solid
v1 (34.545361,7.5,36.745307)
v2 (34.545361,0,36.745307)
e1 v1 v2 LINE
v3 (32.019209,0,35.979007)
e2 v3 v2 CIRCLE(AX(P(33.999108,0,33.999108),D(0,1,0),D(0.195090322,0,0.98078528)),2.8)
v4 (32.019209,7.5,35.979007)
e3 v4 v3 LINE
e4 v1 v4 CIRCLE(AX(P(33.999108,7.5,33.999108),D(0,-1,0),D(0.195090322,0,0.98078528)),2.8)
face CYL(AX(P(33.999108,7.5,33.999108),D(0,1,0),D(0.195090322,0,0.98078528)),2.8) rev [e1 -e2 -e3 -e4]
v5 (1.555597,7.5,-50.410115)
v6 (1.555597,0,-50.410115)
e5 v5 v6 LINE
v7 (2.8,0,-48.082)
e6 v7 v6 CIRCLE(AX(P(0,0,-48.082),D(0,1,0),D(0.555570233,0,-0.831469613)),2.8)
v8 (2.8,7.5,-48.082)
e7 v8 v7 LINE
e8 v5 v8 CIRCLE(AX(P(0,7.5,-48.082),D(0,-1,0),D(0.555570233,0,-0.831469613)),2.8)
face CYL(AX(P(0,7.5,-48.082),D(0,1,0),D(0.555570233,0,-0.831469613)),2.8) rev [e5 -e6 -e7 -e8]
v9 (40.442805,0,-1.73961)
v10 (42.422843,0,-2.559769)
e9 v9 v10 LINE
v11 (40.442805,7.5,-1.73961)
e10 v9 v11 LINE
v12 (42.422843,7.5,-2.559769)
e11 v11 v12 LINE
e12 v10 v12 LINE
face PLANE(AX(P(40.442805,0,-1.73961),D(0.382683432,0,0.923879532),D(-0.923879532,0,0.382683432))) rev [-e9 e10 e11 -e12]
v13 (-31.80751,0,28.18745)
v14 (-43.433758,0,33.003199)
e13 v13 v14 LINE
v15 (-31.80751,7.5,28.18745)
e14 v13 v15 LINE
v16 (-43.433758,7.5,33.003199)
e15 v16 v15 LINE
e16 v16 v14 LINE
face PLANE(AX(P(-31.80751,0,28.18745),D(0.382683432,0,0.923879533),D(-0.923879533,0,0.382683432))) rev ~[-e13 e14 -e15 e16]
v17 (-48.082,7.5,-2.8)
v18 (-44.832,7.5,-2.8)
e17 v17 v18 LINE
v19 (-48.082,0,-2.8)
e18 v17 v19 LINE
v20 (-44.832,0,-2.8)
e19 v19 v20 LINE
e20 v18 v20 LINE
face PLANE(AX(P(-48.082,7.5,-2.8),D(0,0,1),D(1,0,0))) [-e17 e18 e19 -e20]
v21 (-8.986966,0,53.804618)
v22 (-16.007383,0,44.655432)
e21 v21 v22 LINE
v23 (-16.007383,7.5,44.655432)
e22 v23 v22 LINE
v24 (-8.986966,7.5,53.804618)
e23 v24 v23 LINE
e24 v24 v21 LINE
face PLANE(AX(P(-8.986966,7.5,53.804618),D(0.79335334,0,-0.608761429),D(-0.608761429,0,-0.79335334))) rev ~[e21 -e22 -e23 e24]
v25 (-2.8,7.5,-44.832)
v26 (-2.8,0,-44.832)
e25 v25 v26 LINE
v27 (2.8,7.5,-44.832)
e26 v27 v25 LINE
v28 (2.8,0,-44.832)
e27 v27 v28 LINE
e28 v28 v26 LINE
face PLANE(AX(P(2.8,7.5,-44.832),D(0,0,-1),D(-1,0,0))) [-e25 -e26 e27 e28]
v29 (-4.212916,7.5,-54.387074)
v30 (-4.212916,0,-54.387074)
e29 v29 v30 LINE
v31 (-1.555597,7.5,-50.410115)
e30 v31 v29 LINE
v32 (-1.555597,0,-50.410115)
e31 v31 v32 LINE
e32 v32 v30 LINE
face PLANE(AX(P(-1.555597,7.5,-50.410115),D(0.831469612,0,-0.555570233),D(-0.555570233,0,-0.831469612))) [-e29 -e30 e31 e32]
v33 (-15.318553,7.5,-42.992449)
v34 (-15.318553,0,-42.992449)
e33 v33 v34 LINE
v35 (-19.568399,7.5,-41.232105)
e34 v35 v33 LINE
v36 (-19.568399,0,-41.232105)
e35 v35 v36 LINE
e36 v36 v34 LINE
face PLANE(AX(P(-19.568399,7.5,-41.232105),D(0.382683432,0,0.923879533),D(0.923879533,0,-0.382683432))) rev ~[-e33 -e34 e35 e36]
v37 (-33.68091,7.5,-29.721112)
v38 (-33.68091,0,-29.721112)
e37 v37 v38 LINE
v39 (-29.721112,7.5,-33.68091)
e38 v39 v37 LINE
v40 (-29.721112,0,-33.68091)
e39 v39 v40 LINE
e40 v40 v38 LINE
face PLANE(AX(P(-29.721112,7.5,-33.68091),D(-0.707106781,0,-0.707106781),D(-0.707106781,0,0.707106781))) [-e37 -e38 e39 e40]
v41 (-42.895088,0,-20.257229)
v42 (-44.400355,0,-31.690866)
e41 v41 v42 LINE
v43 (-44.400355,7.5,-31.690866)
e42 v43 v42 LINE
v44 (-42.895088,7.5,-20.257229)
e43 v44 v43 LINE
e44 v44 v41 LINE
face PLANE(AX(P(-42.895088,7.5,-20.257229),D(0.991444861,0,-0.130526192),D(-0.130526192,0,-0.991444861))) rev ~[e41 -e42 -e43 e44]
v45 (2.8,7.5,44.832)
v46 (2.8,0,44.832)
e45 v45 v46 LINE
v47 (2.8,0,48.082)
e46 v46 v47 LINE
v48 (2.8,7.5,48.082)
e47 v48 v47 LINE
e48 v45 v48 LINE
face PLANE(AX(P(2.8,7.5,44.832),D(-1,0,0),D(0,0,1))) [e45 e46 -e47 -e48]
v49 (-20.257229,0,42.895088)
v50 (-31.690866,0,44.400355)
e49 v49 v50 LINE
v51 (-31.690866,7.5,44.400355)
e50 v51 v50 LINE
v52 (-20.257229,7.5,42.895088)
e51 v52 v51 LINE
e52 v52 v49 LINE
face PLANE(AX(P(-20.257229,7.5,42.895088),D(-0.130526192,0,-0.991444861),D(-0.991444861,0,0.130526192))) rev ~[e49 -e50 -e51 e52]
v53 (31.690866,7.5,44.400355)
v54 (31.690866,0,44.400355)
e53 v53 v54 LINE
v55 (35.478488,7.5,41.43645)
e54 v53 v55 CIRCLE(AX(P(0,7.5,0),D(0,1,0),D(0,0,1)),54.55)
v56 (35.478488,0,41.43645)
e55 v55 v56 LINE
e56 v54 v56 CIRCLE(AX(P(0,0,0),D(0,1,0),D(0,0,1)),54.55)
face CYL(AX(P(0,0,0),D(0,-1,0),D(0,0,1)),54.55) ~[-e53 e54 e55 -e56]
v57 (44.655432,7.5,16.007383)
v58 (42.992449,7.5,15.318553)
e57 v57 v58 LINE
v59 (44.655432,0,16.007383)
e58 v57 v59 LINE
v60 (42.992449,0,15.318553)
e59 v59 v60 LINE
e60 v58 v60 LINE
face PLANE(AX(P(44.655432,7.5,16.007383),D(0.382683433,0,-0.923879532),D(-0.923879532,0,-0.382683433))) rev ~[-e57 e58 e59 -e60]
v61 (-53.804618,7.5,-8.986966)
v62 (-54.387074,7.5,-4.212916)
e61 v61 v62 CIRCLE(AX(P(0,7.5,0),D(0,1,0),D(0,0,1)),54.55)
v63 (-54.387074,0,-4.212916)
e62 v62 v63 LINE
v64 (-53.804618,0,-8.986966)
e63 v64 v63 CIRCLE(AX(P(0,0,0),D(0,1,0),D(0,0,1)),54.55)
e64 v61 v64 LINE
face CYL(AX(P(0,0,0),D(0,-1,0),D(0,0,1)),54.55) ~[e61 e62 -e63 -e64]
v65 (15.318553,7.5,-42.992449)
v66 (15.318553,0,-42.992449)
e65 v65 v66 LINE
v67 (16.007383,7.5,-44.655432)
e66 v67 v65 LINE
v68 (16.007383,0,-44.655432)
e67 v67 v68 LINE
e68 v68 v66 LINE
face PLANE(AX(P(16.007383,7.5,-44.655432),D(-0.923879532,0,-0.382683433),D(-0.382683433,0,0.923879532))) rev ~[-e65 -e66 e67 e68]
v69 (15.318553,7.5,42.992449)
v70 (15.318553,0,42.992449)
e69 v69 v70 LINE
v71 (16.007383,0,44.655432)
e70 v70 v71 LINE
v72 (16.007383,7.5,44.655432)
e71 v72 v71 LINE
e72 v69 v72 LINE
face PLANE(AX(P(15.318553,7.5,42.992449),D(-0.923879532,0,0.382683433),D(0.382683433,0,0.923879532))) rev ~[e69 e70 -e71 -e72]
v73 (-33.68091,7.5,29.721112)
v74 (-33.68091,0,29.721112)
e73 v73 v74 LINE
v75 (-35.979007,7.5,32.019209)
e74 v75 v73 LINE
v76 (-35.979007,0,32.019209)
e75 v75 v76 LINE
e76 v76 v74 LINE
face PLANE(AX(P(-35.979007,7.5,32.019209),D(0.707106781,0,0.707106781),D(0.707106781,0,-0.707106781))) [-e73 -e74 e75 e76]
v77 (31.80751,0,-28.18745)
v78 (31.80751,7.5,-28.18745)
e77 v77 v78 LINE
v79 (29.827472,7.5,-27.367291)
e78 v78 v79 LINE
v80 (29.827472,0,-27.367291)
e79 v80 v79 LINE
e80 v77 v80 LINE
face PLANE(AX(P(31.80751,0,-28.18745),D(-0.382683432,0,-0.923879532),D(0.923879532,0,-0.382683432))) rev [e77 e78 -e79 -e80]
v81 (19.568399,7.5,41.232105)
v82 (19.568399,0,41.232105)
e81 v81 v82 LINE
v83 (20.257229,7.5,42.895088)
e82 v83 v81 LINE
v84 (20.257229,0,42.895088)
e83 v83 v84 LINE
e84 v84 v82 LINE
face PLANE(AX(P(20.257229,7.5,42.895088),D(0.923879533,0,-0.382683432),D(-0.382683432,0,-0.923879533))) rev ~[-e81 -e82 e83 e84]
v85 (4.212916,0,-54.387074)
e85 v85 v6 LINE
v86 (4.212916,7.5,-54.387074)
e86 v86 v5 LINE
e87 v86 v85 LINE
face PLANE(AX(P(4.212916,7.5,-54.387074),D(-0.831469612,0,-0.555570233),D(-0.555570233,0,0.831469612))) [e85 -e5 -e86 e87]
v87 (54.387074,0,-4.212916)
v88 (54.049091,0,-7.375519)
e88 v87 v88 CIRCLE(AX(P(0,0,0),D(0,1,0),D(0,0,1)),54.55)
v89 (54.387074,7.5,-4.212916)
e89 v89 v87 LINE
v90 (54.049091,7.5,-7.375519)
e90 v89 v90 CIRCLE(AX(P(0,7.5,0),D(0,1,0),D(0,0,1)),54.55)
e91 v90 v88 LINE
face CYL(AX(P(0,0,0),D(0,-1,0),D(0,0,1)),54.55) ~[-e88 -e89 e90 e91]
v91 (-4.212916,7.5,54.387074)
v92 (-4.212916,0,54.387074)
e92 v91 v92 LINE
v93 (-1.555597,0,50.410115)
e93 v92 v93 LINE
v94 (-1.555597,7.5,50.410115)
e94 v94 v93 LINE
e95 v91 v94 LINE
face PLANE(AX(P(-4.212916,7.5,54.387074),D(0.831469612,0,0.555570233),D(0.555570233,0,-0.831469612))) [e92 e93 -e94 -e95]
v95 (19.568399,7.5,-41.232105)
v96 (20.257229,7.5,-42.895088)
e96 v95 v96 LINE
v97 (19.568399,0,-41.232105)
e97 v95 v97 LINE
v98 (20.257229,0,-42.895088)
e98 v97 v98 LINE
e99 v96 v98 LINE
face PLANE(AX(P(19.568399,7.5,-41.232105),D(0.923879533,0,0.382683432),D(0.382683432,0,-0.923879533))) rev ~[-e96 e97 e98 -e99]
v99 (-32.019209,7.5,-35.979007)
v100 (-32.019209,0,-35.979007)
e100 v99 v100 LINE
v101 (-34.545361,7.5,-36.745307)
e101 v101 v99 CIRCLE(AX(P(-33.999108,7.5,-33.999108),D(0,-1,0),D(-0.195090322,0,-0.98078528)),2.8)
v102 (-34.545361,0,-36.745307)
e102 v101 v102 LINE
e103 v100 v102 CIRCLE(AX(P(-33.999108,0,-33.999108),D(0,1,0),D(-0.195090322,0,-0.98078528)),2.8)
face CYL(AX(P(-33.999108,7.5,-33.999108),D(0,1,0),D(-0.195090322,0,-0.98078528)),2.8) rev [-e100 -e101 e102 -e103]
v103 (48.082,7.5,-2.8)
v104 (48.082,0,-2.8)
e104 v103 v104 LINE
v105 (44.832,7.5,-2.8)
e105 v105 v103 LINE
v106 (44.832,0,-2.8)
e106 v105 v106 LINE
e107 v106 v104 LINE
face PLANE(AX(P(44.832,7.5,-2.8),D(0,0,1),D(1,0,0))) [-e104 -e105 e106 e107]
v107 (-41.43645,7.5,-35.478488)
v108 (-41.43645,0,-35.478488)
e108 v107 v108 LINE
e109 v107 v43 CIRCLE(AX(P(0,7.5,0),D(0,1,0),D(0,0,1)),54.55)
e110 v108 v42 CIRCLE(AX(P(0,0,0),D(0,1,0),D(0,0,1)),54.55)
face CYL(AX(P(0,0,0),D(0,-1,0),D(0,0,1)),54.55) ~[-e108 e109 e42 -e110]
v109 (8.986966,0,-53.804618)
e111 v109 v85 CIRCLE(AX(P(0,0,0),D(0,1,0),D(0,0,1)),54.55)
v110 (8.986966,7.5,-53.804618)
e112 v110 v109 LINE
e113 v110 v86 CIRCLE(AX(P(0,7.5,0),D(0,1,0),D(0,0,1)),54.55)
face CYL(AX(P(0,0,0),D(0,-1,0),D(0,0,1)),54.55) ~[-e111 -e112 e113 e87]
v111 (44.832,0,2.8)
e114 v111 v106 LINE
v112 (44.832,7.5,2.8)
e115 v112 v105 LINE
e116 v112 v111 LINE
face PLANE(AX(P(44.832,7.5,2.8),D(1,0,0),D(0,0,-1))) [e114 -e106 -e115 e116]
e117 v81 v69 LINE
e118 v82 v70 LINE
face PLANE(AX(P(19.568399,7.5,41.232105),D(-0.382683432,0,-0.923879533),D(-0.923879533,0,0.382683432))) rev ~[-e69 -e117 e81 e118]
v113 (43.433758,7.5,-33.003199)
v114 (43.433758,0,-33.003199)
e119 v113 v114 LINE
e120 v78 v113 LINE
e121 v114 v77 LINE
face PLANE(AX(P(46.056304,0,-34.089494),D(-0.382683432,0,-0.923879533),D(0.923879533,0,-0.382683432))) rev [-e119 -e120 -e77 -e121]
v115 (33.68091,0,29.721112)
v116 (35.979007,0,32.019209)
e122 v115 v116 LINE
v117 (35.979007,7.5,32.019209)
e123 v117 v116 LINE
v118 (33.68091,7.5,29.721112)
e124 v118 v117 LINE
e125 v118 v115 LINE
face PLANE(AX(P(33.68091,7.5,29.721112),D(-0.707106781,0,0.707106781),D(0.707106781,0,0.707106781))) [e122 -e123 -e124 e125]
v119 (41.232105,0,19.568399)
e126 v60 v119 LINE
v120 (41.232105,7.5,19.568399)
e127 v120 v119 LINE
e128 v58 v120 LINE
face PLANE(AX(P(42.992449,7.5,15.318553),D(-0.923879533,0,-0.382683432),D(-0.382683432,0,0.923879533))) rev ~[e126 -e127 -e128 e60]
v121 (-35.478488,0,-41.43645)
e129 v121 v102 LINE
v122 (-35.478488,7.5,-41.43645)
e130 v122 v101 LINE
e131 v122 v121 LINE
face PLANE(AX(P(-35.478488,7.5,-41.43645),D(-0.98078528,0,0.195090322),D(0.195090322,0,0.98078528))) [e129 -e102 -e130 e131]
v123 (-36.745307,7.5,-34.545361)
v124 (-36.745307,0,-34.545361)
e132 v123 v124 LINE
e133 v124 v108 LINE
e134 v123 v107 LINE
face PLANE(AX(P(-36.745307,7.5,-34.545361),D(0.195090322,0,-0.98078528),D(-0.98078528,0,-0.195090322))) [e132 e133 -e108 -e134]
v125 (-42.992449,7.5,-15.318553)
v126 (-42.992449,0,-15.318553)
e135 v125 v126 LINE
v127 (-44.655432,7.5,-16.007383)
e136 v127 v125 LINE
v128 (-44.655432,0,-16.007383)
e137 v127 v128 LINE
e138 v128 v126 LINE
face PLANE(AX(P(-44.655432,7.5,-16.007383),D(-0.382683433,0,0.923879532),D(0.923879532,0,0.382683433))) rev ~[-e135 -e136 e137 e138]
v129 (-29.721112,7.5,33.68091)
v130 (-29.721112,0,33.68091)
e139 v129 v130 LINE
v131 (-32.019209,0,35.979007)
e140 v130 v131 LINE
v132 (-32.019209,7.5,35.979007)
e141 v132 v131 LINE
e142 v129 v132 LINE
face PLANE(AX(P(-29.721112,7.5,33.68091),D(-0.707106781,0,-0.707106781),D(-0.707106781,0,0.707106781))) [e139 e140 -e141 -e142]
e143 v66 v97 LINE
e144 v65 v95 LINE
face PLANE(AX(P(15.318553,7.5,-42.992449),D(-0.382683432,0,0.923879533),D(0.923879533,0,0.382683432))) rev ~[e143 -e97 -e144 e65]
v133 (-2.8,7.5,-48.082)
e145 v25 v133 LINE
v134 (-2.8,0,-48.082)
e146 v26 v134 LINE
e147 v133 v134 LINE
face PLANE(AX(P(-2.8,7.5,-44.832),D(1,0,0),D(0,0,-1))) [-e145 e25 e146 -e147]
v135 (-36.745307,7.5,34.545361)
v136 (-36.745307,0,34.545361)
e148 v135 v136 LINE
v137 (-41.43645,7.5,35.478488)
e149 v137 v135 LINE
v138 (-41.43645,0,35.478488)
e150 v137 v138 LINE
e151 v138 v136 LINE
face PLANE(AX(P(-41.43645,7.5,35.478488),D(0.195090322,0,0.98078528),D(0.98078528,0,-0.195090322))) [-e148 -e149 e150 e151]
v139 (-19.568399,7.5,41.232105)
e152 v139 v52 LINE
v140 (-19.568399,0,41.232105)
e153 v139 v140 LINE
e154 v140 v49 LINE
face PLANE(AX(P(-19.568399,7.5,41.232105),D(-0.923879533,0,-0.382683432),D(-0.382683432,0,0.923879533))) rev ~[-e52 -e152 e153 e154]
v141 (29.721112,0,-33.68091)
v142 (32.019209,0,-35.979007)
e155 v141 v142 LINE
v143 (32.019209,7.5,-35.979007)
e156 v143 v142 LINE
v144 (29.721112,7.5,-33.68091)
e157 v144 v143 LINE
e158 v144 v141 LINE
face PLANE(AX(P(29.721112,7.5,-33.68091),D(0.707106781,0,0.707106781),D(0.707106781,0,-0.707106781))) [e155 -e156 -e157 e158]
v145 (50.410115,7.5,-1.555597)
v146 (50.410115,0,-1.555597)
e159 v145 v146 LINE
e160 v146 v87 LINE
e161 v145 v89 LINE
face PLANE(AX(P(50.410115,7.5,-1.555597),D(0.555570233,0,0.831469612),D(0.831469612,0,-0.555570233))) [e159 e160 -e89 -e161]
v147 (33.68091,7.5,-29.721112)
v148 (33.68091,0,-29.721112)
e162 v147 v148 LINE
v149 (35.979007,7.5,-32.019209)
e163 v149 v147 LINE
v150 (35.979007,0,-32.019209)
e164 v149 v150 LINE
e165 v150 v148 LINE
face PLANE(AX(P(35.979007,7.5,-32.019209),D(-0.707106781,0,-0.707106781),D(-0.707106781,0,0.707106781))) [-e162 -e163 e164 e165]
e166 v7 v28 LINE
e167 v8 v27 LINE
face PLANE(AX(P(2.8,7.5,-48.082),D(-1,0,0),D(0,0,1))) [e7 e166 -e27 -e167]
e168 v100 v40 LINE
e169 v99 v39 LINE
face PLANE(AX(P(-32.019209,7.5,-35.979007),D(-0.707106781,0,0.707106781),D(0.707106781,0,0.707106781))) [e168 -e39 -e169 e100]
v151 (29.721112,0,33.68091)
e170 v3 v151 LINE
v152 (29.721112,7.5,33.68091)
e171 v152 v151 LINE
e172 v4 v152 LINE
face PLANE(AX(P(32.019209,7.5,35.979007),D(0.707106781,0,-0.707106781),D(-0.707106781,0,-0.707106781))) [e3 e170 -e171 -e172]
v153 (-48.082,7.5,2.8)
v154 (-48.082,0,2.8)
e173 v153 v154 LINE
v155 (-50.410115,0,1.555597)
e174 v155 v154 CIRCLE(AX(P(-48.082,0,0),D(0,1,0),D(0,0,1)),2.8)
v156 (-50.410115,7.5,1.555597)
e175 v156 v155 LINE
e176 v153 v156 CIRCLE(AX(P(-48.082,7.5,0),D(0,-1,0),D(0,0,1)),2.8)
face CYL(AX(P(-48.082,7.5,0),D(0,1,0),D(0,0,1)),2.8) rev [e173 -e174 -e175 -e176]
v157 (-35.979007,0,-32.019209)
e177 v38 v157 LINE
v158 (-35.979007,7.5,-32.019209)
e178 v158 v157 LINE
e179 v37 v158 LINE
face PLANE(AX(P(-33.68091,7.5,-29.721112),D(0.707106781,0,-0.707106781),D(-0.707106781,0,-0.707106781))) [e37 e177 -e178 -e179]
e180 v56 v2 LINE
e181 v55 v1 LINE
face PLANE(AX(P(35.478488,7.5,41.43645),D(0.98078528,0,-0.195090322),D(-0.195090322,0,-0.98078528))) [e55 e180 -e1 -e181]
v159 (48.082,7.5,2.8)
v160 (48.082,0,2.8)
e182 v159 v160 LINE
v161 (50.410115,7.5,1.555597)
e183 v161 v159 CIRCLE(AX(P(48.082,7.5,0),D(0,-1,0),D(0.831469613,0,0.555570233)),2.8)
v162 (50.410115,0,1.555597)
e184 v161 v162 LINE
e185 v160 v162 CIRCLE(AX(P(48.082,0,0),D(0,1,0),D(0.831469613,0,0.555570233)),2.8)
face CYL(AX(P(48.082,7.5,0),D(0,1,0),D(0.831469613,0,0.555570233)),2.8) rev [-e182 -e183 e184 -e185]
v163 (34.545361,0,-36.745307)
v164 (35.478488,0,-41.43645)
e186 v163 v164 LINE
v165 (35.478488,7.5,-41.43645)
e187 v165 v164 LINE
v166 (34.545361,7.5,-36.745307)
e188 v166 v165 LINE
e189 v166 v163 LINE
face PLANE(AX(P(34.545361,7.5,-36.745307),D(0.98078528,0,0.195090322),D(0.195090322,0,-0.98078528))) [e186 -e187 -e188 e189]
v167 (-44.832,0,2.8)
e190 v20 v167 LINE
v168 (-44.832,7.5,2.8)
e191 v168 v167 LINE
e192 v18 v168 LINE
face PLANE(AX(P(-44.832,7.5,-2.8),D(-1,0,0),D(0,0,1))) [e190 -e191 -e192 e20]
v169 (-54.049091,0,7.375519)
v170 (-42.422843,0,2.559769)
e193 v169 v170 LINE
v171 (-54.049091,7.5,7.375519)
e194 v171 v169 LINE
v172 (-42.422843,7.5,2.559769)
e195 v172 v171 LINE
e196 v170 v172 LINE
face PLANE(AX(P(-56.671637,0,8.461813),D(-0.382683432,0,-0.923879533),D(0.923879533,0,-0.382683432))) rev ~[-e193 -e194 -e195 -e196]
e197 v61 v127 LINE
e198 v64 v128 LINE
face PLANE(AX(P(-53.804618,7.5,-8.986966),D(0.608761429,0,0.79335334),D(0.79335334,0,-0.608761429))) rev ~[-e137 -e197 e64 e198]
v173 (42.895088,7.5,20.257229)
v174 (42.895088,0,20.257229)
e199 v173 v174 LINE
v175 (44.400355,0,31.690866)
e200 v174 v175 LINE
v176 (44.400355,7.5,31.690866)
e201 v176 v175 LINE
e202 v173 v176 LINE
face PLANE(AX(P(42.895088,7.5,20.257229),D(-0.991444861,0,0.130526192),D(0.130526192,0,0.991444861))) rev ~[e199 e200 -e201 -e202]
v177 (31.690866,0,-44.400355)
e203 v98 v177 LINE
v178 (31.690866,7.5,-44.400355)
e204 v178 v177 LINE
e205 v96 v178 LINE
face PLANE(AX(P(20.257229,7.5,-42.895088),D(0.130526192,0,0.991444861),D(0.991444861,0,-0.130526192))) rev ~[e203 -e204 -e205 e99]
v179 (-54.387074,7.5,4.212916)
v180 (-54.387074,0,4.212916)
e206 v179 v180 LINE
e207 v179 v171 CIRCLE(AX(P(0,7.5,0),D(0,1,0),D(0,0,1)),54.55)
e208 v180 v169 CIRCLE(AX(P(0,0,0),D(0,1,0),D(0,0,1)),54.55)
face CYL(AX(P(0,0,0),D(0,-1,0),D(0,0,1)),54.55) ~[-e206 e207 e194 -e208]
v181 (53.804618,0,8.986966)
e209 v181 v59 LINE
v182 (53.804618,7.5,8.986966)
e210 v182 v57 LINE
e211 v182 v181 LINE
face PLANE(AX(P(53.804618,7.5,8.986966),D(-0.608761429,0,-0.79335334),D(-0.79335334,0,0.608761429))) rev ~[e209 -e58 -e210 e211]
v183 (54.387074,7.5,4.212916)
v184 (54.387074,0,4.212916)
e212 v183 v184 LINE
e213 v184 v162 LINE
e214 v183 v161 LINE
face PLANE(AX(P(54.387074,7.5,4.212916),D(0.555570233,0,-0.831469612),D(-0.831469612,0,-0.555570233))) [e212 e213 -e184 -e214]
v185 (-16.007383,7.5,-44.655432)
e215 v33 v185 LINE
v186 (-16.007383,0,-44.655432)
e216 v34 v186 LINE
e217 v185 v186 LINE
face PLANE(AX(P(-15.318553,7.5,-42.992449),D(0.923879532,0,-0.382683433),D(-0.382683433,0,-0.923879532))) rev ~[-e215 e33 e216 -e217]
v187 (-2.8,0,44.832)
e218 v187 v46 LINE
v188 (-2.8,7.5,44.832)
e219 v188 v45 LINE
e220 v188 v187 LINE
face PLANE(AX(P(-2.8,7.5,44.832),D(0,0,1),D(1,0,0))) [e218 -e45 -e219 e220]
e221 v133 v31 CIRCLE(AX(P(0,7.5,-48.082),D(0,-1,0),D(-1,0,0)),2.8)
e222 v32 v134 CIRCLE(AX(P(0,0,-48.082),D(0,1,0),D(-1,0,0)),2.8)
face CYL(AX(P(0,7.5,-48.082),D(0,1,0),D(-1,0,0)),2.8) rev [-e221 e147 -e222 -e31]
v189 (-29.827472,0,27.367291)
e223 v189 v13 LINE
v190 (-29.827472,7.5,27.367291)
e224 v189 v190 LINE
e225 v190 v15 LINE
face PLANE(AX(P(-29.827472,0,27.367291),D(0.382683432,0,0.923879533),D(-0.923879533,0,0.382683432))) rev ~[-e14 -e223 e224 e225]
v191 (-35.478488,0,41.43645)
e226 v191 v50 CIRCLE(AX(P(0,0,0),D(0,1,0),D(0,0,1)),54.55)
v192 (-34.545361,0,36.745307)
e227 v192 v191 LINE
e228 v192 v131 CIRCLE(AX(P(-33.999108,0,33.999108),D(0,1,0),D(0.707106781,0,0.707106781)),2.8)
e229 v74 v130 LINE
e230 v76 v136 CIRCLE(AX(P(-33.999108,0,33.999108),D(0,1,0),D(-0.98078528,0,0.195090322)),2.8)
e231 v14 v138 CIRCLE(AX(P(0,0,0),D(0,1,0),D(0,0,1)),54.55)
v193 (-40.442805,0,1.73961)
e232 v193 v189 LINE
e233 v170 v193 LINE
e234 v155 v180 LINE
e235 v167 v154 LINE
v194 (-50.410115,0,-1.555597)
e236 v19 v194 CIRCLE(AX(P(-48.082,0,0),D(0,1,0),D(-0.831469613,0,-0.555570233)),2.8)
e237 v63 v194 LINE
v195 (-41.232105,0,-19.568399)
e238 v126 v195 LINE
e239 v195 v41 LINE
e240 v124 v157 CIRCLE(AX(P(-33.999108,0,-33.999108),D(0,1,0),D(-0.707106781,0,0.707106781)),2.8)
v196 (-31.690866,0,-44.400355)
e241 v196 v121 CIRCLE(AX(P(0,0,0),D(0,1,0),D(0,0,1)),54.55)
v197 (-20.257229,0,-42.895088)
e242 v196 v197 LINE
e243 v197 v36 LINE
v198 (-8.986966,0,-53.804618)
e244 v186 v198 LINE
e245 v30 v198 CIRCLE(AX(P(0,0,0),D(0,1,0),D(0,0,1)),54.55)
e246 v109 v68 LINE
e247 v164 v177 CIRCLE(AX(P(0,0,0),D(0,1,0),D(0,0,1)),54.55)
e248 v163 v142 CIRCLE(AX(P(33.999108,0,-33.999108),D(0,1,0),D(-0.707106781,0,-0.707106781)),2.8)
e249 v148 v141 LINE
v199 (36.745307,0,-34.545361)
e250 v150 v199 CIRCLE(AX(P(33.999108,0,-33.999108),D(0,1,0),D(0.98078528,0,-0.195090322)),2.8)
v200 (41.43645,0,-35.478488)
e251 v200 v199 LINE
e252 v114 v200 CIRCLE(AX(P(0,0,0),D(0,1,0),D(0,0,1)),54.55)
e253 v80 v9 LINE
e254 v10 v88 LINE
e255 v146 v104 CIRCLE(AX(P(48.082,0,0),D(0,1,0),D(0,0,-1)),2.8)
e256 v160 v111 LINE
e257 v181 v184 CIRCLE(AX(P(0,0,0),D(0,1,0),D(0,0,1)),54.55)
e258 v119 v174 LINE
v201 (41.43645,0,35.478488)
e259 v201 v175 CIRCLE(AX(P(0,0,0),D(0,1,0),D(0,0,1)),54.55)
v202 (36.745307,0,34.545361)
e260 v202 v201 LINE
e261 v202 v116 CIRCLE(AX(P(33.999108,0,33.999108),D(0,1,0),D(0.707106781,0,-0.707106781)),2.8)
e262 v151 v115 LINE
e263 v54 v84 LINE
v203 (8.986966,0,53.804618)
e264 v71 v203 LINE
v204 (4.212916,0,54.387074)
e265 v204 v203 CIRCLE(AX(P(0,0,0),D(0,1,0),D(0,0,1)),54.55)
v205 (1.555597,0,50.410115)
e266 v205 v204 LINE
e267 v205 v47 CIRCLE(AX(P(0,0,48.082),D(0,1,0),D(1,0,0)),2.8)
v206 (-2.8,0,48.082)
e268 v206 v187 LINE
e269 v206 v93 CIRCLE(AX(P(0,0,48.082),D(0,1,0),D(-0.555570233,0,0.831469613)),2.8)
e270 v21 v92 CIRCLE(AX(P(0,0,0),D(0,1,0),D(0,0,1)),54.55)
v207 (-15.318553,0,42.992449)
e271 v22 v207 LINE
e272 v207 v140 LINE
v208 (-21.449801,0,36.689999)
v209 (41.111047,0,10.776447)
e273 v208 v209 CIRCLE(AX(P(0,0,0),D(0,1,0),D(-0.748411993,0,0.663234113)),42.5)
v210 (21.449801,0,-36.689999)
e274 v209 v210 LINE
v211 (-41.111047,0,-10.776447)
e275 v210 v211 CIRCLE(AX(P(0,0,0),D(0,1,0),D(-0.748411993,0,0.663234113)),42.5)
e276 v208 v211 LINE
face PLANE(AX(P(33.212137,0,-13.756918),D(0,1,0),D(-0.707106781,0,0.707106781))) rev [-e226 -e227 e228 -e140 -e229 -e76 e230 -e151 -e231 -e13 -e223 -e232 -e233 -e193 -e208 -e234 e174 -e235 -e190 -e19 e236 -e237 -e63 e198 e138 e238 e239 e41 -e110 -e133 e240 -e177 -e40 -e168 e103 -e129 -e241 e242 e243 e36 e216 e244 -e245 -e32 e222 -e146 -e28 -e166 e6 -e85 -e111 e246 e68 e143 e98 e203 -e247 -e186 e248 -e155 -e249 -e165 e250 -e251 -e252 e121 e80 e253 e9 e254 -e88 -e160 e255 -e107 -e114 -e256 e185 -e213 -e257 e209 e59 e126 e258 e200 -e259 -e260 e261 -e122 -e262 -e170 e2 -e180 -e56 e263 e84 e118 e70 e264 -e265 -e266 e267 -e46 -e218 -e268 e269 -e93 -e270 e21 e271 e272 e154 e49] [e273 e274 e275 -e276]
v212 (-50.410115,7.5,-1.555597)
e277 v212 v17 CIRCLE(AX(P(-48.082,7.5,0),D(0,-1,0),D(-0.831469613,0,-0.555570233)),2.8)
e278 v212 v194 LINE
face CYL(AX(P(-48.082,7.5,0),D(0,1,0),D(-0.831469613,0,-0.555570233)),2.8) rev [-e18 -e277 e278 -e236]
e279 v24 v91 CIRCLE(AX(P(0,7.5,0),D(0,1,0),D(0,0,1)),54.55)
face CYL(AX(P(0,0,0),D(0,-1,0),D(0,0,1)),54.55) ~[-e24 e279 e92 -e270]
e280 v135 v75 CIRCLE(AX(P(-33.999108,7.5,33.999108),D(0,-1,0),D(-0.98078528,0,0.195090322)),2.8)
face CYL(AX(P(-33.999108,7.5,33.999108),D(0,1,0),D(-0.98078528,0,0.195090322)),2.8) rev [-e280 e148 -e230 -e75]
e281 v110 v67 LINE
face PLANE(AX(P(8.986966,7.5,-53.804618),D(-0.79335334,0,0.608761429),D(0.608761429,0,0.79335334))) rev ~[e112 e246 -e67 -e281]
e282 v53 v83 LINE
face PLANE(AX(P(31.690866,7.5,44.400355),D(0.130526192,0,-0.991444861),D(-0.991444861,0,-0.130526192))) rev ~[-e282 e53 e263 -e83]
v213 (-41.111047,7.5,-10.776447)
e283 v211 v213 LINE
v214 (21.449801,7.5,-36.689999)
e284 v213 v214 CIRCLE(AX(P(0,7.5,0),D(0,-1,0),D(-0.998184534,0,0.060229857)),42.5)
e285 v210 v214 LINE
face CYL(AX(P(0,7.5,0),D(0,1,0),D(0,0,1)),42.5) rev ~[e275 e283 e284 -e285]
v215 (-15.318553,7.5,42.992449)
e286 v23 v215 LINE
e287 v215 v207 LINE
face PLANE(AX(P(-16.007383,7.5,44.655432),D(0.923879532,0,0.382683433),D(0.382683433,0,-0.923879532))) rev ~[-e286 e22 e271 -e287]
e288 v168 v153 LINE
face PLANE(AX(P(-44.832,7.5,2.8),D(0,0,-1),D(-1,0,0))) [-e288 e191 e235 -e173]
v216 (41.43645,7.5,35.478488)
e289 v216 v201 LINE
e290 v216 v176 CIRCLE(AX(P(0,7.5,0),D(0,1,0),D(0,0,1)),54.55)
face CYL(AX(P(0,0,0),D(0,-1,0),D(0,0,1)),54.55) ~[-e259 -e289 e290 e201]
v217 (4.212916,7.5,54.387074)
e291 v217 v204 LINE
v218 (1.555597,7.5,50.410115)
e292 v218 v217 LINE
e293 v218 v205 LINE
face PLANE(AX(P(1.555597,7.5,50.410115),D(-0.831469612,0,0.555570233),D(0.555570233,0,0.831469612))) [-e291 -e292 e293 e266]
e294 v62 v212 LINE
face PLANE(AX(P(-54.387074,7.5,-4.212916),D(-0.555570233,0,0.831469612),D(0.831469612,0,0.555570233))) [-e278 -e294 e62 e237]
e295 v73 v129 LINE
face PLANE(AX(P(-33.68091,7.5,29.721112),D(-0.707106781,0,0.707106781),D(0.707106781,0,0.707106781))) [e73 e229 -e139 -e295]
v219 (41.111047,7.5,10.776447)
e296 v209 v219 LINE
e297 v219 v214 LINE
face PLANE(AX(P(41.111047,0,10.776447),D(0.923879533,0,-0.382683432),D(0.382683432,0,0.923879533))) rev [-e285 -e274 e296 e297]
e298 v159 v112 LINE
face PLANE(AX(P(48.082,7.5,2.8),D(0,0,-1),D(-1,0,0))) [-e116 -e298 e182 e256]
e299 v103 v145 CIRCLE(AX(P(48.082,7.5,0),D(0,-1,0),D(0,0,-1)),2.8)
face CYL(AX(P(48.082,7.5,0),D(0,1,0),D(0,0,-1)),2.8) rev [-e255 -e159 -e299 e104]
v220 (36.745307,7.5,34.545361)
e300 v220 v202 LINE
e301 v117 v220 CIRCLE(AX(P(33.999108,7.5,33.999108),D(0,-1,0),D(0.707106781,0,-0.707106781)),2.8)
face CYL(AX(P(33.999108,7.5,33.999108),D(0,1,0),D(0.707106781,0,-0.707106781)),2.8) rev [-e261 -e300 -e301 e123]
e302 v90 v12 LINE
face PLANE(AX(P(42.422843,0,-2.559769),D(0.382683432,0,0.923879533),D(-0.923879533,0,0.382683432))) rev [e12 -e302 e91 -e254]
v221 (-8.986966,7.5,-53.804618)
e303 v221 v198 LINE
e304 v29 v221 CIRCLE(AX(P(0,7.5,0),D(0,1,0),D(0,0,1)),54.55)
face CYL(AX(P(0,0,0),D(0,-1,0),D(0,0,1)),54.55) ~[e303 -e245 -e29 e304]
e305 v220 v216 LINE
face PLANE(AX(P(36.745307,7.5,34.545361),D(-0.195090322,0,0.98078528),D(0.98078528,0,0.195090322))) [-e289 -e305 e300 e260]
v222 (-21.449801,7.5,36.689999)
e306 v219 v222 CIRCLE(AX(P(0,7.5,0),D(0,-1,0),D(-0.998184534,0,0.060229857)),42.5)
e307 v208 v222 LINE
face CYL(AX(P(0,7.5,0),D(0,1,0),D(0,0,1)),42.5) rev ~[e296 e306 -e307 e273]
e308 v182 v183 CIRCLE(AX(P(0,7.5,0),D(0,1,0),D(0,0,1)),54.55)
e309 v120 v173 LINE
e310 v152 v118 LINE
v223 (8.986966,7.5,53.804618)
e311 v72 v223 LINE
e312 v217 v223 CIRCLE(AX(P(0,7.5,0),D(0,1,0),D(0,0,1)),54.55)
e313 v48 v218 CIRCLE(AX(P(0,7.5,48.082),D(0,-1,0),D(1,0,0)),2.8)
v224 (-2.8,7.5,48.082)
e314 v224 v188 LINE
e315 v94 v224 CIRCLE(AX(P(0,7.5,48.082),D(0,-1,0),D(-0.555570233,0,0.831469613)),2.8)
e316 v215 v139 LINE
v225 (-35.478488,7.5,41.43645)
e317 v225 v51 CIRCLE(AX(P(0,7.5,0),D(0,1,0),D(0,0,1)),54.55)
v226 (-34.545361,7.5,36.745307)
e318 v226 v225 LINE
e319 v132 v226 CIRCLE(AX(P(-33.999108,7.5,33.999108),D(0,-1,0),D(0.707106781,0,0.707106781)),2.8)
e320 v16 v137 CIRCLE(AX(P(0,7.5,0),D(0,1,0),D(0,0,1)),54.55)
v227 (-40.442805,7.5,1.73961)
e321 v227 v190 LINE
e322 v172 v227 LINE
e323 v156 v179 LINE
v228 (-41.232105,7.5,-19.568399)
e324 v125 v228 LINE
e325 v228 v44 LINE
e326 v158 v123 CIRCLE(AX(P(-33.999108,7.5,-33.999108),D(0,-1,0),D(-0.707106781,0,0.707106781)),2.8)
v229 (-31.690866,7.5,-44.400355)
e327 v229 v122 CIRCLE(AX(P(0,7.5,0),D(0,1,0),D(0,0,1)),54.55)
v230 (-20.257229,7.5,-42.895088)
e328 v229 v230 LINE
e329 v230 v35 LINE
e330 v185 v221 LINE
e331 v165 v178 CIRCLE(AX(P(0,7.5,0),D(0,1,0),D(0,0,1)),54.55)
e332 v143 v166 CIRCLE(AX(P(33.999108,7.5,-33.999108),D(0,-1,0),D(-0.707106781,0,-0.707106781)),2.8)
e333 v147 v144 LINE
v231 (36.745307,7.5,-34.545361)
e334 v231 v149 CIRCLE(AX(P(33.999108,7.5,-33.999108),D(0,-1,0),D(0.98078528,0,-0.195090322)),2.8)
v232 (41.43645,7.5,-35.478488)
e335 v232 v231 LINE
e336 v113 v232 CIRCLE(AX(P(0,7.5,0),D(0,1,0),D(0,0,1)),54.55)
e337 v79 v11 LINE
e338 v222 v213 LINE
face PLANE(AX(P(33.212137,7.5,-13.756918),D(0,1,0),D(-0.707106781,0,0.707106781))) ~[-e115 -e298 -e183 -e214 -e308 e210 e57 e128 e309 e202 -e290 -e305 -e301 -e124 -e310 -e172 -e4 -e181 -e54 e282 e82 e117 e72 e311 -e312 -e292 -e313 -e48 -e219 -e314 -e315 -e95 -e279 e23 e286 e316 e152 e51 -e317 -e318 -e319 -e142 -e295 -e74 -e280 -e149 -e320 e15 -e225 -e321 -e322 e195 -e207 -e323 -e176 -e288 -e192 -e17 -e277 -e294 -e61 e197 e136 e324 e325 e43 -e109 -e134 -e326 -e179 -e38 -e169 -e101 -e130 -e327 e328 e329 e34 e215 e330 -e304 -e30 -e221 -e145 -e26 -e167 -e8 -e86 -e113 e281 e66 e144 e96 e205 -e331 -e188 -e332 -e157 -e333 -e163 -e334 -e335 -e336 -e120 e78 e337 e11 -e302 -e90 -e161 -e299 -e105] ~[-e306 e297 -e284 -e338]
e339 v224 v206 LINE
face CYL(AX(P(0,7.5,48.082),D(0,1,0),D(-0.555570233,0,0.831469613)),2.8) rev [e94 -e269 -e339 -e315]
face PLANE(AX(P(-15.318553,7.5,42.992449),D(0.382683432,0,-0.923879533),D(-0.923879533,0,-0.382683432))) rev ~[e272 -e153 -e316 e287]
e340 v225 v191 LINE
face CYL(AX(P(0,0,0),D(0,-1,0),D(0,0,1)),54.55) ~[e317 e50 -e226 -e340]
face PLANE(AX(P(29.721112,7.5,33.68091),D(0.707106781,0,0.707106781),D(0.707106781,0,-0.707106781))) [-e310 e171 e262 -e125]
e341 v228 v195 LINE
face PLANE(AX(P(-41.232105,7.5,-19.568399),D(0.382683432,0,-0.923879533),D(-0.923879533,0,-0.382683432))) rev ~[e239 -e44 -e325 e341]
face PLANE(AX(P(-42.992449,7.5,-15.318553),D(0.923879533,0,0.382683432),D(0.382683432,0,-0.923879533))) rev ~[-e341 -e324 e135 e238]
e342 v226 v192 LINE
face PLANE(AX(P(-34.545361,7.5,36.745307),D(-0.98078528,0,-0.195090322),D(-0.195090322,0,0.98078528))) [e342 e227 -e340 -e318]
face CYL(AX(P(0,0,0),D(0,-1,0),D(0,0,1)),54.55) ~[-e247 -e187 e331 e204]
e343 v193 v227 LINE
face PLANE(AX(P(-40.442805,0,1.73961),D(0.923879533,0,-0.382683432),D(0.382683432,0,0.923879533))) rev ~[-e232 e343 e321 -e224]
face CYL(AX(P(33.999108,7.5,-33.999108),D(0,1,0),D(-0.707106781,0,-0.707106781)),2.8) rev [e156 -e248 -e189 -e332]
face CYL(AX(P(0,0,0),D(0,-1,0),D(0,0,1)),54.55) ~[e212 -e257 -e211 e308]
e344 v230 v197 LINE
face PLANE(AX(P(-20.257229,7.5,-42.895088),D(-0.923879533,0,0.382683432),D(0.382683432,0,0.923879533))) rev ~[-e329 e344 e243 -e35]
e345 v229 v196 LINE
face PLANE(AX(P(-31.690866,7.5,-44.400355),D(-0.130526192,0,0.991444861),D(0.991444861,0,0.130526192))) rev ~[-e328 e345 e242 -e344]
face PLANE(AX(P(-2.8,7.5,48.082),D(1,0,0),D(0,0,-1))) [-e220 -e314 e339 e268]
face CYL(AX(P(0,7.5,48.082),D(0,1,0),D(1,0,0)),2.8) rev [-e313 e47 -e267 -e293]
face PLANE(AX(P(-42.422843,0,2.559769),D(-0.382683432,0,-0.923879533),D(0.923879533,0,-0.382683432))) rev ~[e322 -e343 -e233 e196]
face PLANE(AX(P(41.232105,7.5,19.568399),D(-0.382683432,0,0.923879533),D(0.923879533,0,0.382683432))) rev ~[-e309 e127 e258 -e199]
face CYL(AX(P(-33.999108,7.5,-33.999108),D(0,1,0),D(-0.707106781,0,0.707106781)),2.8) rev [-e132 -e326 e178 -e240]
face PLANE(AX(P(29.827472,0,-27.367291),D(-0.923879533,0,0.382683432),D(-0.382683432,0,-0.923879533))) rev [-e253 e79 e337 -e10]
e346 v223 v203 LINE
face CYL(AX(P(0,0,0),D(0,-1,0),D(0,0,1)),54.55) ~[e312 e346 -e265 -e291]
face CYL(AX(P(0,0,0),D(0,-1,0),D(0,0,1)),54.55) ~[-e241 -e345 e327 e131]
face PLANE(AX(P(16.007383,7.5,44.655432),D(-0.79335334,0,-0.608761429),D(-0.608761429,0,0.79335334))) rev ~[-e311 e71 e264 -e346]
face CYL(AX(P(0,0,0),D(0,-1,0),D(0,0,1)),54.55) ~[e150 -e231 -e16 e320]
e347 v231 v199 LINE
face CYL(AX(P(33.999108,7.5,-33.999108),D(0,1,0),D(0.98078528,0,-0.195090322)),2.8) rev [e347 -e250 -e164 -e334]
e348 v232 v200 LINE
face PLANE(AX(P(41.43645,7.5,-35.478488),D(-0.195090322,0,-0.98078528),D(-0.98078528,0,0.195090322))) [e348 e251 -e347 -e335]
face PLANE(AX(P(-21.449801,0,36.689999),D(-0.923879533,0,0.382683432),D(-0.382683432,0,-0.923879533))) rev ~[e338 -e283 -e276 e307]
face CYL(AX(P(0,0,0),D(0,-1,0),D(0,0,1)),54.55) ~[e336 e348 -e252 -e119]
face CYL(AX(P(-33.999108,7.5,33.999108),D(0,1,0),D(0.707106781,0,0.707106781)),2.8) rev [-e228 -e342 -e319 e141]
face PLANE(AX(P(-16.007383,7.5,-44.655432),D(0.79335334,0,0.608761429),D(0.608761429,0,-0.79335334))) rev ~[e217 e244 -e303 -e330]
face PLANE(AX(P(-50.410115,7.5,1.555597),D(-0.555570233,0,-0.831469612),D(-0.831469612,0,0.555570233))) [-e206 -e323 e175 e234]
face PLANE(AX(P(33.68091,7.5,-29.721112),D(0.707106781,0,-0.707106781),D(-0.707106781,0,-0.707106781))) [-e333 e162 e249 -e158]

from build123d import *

# Parameters (mm, degrees)
SKETCH1_R           = 54.55
BOSS_EXTRUDE1_DEPTH = 7.5
SKETCH2_R           = 42.5
CUT_EXTRUDE1_DEPTH  = 78.509063986
CUT_EXTRUDE2_DEPTH  = 78.509063986
CUT_EXTRUDE6_DEPTH  = 78.509063986
CIRPATTERN1_COUNT   = 8
CIRPATTERN2_COUNT   = 8
CUT_EXTRUDE7_DEPTH  = 78.279736538
BOSS_EXTRUDE2_DEPTH = 7.5


with BuildPart() as part:
    # Sketch1 → Boss-Extrude1 (new body)
    with BuildSketch(Plane(origin=(0, 0, 0), x_dir=(1, 0, 0), z_dir=(0, 1, 0))):
        with Locations(Location((0, 0, 0), (0, 0, 270))):
            Circle(SKETCH1_R)
    extrude(amount=BOSS_EXTRUDE1_DEPTH)

    # Sketch2 → Cut-Extrude1 (cut, through all)
    with BuildSketch(Plane(origin=(0, 7.5, 0), x_dir=(1, 0, 0), z_dir=(0, 1, 0))):
        with Locations(Location((0, 0, 0), (0, 0, 270))):
            Circle(SKETCH2_R)
    extrude(amount=-CUT_EXTRUDE1_DEPTH, mode=Mode.SUBTRACT)

    # Sketch3 → Cut-Extrude2 (cut, through all)
    with BuildSketch(Plane(origin=(0, 7.5, 0), x_dir=(1, 0, 0), z_dir=(0, 1, 0))):
        with BuildLine():
            Line((-2.8, -48.082), (-2.8, -44.832))
            Line((-2.8, -44.832), (2.8, -44.832))
            Line((2.8, -44.832), (2.8, -48.082))
            ThreePointArc((2.8, -48.082), (2.46937954, -49.401910863), (1.555596652, -50.410114914))
            Line((1.555596652, -50.410114914), (4.212915889, -54.387074197))
            ThreePointArc((4.212915889, -54.387074197), (0, -54.55), (-4.212915889, -54.387074197))
            Line((-4.212915889, -54.387074197), (-1.555596652, -50.410114914))
            ThreePointArc((-1.555596652, -50.410114914), (-2.46937954, -49.401910863), (-2.8, -48.082))
        make_face()
    cut_extrude2 = extrude(amount=-CUT_EXTRUDE2_DEPTH, mode=Mode.SUBTRACT)

    # Sketch9 → Cut-Extrude6 (cut, through all)
    with BuildSketch(Plane(origin=(0, 7.5, 0), x_dir=(1, 0, 0), z_dir=(0, 1, 0))):
        with BuildLine():
            Line((-20.257229317, -42.895088115), (-31.690865911, -44.400354929))
            ThreePointArc((-31.690865911, -44.400354929), (-20.875381236, -50.397628498), (-8.98696587, -53.804618245))
            Line((-8.98696587, -53.804618245), (-16.007383468, -44.655431904))
            Line((-16.007383468, -44.655431904), (-15.318553289, -42.992448745))
            Line((-15.318553289, -42.992448745), (-19.568399139, -41.232104956))
            Line((-19.568399139, -41.232104956), (-20.257229317, -42.895088115))
        make_face()
    cut_extrude6 = extrude(amount=-CUT_EXTRUDE6_DEPTH, mode=Mode.SUBTRACT)

    # CirPattern1: Cut-Extrude2 ×8 about axis
    cirpattern1_axis = Axis((0, 0, 0), (0, 1, 0))
    for i in range(1, CIRPATTERN1_COUNT):
        add(cut_extrude2.rotate(cirpattern1_axis, i * 360 / CIRPATTERN1_COUNT), mode=Mode.SUBTRACT)

    # CirPattern2: Cut-Extrude6 ×8 about axis, 2 skipped
    cirpattern2_axis = Axis((0, 10.872185225, 0), (0, -1, 0))
    add([cut_extrude6.rotate(cirpattern2_axis, i * 360 / CIRPATTERN2_COUNT) for i in range(1, CIRPATTERN2_COUNT) if i not in (1, 5)], mode=Mode.SUBTRACT)

    # Sketch10 → Cut-Extrude7 (cut, through all)
    with BuildSketch(Plane.XZ):
        Polygon((-42.422842704, 2.559768914), (-31.807509711, 28.187449796), (-46.056303911, 34.089493601), (-56.671636904, 8.461812719), align=None)
    cut_extrude7 = extrude(amount=-CUT_EXTRUDE7_DEPTH, mode=Mode.SUBTRACT)

    # Sketch11 → Boss-Extrude2 (add, through all)
    with BuildSketch(Plane.XZ):
        with BuildLine():
            Line((-42.422842704, 2.559768914), (-40.442805118, 1.739610492))
            Line((-40.442805118, 1.739610492), (-29.827472125, 27.367291374))
            Line((-29.827472125, 27.367291374), (-31.807509711, 28.187449796))
            ThreePointArc((-31.807509711, 28.187449796), (-26.965878836, 32.849526307), (-21.449800959, 36.689999166))
            Line((-21.449800959, 36.689999166), (-41.111046925, -10.776447499))
            ThreePointArc((-41.111046925, -10.776447499), (-42.295878596, -4.160367025), (-42.422842704, 2.559768914))
        make_face()
    boss_extrude2 = extrude(amount=-BOSS_EXTRUDE2_DEPTH)

    # Mirror1: Cut-Extrude7, Boss-Extrude2 across plane
    add(cut_extrude7.mirror(Plane(origin=(0, 0, 0), x_dir=(0.38268343236508123, 0, 0.9238795325112903), z_dir=(0.9238795325112903, 0, -0.38268343236508123))), mode=Mode.SUBTRACT)
    add(boss_extrude2.mirror(Plane(origin=(0, 0, 0), x_dir=(0.38268343236508123, 0, 0.9238795325112903), z_dir=(0.9238795325112903, 0, -0.38268343236508123))))


solid = part.part
